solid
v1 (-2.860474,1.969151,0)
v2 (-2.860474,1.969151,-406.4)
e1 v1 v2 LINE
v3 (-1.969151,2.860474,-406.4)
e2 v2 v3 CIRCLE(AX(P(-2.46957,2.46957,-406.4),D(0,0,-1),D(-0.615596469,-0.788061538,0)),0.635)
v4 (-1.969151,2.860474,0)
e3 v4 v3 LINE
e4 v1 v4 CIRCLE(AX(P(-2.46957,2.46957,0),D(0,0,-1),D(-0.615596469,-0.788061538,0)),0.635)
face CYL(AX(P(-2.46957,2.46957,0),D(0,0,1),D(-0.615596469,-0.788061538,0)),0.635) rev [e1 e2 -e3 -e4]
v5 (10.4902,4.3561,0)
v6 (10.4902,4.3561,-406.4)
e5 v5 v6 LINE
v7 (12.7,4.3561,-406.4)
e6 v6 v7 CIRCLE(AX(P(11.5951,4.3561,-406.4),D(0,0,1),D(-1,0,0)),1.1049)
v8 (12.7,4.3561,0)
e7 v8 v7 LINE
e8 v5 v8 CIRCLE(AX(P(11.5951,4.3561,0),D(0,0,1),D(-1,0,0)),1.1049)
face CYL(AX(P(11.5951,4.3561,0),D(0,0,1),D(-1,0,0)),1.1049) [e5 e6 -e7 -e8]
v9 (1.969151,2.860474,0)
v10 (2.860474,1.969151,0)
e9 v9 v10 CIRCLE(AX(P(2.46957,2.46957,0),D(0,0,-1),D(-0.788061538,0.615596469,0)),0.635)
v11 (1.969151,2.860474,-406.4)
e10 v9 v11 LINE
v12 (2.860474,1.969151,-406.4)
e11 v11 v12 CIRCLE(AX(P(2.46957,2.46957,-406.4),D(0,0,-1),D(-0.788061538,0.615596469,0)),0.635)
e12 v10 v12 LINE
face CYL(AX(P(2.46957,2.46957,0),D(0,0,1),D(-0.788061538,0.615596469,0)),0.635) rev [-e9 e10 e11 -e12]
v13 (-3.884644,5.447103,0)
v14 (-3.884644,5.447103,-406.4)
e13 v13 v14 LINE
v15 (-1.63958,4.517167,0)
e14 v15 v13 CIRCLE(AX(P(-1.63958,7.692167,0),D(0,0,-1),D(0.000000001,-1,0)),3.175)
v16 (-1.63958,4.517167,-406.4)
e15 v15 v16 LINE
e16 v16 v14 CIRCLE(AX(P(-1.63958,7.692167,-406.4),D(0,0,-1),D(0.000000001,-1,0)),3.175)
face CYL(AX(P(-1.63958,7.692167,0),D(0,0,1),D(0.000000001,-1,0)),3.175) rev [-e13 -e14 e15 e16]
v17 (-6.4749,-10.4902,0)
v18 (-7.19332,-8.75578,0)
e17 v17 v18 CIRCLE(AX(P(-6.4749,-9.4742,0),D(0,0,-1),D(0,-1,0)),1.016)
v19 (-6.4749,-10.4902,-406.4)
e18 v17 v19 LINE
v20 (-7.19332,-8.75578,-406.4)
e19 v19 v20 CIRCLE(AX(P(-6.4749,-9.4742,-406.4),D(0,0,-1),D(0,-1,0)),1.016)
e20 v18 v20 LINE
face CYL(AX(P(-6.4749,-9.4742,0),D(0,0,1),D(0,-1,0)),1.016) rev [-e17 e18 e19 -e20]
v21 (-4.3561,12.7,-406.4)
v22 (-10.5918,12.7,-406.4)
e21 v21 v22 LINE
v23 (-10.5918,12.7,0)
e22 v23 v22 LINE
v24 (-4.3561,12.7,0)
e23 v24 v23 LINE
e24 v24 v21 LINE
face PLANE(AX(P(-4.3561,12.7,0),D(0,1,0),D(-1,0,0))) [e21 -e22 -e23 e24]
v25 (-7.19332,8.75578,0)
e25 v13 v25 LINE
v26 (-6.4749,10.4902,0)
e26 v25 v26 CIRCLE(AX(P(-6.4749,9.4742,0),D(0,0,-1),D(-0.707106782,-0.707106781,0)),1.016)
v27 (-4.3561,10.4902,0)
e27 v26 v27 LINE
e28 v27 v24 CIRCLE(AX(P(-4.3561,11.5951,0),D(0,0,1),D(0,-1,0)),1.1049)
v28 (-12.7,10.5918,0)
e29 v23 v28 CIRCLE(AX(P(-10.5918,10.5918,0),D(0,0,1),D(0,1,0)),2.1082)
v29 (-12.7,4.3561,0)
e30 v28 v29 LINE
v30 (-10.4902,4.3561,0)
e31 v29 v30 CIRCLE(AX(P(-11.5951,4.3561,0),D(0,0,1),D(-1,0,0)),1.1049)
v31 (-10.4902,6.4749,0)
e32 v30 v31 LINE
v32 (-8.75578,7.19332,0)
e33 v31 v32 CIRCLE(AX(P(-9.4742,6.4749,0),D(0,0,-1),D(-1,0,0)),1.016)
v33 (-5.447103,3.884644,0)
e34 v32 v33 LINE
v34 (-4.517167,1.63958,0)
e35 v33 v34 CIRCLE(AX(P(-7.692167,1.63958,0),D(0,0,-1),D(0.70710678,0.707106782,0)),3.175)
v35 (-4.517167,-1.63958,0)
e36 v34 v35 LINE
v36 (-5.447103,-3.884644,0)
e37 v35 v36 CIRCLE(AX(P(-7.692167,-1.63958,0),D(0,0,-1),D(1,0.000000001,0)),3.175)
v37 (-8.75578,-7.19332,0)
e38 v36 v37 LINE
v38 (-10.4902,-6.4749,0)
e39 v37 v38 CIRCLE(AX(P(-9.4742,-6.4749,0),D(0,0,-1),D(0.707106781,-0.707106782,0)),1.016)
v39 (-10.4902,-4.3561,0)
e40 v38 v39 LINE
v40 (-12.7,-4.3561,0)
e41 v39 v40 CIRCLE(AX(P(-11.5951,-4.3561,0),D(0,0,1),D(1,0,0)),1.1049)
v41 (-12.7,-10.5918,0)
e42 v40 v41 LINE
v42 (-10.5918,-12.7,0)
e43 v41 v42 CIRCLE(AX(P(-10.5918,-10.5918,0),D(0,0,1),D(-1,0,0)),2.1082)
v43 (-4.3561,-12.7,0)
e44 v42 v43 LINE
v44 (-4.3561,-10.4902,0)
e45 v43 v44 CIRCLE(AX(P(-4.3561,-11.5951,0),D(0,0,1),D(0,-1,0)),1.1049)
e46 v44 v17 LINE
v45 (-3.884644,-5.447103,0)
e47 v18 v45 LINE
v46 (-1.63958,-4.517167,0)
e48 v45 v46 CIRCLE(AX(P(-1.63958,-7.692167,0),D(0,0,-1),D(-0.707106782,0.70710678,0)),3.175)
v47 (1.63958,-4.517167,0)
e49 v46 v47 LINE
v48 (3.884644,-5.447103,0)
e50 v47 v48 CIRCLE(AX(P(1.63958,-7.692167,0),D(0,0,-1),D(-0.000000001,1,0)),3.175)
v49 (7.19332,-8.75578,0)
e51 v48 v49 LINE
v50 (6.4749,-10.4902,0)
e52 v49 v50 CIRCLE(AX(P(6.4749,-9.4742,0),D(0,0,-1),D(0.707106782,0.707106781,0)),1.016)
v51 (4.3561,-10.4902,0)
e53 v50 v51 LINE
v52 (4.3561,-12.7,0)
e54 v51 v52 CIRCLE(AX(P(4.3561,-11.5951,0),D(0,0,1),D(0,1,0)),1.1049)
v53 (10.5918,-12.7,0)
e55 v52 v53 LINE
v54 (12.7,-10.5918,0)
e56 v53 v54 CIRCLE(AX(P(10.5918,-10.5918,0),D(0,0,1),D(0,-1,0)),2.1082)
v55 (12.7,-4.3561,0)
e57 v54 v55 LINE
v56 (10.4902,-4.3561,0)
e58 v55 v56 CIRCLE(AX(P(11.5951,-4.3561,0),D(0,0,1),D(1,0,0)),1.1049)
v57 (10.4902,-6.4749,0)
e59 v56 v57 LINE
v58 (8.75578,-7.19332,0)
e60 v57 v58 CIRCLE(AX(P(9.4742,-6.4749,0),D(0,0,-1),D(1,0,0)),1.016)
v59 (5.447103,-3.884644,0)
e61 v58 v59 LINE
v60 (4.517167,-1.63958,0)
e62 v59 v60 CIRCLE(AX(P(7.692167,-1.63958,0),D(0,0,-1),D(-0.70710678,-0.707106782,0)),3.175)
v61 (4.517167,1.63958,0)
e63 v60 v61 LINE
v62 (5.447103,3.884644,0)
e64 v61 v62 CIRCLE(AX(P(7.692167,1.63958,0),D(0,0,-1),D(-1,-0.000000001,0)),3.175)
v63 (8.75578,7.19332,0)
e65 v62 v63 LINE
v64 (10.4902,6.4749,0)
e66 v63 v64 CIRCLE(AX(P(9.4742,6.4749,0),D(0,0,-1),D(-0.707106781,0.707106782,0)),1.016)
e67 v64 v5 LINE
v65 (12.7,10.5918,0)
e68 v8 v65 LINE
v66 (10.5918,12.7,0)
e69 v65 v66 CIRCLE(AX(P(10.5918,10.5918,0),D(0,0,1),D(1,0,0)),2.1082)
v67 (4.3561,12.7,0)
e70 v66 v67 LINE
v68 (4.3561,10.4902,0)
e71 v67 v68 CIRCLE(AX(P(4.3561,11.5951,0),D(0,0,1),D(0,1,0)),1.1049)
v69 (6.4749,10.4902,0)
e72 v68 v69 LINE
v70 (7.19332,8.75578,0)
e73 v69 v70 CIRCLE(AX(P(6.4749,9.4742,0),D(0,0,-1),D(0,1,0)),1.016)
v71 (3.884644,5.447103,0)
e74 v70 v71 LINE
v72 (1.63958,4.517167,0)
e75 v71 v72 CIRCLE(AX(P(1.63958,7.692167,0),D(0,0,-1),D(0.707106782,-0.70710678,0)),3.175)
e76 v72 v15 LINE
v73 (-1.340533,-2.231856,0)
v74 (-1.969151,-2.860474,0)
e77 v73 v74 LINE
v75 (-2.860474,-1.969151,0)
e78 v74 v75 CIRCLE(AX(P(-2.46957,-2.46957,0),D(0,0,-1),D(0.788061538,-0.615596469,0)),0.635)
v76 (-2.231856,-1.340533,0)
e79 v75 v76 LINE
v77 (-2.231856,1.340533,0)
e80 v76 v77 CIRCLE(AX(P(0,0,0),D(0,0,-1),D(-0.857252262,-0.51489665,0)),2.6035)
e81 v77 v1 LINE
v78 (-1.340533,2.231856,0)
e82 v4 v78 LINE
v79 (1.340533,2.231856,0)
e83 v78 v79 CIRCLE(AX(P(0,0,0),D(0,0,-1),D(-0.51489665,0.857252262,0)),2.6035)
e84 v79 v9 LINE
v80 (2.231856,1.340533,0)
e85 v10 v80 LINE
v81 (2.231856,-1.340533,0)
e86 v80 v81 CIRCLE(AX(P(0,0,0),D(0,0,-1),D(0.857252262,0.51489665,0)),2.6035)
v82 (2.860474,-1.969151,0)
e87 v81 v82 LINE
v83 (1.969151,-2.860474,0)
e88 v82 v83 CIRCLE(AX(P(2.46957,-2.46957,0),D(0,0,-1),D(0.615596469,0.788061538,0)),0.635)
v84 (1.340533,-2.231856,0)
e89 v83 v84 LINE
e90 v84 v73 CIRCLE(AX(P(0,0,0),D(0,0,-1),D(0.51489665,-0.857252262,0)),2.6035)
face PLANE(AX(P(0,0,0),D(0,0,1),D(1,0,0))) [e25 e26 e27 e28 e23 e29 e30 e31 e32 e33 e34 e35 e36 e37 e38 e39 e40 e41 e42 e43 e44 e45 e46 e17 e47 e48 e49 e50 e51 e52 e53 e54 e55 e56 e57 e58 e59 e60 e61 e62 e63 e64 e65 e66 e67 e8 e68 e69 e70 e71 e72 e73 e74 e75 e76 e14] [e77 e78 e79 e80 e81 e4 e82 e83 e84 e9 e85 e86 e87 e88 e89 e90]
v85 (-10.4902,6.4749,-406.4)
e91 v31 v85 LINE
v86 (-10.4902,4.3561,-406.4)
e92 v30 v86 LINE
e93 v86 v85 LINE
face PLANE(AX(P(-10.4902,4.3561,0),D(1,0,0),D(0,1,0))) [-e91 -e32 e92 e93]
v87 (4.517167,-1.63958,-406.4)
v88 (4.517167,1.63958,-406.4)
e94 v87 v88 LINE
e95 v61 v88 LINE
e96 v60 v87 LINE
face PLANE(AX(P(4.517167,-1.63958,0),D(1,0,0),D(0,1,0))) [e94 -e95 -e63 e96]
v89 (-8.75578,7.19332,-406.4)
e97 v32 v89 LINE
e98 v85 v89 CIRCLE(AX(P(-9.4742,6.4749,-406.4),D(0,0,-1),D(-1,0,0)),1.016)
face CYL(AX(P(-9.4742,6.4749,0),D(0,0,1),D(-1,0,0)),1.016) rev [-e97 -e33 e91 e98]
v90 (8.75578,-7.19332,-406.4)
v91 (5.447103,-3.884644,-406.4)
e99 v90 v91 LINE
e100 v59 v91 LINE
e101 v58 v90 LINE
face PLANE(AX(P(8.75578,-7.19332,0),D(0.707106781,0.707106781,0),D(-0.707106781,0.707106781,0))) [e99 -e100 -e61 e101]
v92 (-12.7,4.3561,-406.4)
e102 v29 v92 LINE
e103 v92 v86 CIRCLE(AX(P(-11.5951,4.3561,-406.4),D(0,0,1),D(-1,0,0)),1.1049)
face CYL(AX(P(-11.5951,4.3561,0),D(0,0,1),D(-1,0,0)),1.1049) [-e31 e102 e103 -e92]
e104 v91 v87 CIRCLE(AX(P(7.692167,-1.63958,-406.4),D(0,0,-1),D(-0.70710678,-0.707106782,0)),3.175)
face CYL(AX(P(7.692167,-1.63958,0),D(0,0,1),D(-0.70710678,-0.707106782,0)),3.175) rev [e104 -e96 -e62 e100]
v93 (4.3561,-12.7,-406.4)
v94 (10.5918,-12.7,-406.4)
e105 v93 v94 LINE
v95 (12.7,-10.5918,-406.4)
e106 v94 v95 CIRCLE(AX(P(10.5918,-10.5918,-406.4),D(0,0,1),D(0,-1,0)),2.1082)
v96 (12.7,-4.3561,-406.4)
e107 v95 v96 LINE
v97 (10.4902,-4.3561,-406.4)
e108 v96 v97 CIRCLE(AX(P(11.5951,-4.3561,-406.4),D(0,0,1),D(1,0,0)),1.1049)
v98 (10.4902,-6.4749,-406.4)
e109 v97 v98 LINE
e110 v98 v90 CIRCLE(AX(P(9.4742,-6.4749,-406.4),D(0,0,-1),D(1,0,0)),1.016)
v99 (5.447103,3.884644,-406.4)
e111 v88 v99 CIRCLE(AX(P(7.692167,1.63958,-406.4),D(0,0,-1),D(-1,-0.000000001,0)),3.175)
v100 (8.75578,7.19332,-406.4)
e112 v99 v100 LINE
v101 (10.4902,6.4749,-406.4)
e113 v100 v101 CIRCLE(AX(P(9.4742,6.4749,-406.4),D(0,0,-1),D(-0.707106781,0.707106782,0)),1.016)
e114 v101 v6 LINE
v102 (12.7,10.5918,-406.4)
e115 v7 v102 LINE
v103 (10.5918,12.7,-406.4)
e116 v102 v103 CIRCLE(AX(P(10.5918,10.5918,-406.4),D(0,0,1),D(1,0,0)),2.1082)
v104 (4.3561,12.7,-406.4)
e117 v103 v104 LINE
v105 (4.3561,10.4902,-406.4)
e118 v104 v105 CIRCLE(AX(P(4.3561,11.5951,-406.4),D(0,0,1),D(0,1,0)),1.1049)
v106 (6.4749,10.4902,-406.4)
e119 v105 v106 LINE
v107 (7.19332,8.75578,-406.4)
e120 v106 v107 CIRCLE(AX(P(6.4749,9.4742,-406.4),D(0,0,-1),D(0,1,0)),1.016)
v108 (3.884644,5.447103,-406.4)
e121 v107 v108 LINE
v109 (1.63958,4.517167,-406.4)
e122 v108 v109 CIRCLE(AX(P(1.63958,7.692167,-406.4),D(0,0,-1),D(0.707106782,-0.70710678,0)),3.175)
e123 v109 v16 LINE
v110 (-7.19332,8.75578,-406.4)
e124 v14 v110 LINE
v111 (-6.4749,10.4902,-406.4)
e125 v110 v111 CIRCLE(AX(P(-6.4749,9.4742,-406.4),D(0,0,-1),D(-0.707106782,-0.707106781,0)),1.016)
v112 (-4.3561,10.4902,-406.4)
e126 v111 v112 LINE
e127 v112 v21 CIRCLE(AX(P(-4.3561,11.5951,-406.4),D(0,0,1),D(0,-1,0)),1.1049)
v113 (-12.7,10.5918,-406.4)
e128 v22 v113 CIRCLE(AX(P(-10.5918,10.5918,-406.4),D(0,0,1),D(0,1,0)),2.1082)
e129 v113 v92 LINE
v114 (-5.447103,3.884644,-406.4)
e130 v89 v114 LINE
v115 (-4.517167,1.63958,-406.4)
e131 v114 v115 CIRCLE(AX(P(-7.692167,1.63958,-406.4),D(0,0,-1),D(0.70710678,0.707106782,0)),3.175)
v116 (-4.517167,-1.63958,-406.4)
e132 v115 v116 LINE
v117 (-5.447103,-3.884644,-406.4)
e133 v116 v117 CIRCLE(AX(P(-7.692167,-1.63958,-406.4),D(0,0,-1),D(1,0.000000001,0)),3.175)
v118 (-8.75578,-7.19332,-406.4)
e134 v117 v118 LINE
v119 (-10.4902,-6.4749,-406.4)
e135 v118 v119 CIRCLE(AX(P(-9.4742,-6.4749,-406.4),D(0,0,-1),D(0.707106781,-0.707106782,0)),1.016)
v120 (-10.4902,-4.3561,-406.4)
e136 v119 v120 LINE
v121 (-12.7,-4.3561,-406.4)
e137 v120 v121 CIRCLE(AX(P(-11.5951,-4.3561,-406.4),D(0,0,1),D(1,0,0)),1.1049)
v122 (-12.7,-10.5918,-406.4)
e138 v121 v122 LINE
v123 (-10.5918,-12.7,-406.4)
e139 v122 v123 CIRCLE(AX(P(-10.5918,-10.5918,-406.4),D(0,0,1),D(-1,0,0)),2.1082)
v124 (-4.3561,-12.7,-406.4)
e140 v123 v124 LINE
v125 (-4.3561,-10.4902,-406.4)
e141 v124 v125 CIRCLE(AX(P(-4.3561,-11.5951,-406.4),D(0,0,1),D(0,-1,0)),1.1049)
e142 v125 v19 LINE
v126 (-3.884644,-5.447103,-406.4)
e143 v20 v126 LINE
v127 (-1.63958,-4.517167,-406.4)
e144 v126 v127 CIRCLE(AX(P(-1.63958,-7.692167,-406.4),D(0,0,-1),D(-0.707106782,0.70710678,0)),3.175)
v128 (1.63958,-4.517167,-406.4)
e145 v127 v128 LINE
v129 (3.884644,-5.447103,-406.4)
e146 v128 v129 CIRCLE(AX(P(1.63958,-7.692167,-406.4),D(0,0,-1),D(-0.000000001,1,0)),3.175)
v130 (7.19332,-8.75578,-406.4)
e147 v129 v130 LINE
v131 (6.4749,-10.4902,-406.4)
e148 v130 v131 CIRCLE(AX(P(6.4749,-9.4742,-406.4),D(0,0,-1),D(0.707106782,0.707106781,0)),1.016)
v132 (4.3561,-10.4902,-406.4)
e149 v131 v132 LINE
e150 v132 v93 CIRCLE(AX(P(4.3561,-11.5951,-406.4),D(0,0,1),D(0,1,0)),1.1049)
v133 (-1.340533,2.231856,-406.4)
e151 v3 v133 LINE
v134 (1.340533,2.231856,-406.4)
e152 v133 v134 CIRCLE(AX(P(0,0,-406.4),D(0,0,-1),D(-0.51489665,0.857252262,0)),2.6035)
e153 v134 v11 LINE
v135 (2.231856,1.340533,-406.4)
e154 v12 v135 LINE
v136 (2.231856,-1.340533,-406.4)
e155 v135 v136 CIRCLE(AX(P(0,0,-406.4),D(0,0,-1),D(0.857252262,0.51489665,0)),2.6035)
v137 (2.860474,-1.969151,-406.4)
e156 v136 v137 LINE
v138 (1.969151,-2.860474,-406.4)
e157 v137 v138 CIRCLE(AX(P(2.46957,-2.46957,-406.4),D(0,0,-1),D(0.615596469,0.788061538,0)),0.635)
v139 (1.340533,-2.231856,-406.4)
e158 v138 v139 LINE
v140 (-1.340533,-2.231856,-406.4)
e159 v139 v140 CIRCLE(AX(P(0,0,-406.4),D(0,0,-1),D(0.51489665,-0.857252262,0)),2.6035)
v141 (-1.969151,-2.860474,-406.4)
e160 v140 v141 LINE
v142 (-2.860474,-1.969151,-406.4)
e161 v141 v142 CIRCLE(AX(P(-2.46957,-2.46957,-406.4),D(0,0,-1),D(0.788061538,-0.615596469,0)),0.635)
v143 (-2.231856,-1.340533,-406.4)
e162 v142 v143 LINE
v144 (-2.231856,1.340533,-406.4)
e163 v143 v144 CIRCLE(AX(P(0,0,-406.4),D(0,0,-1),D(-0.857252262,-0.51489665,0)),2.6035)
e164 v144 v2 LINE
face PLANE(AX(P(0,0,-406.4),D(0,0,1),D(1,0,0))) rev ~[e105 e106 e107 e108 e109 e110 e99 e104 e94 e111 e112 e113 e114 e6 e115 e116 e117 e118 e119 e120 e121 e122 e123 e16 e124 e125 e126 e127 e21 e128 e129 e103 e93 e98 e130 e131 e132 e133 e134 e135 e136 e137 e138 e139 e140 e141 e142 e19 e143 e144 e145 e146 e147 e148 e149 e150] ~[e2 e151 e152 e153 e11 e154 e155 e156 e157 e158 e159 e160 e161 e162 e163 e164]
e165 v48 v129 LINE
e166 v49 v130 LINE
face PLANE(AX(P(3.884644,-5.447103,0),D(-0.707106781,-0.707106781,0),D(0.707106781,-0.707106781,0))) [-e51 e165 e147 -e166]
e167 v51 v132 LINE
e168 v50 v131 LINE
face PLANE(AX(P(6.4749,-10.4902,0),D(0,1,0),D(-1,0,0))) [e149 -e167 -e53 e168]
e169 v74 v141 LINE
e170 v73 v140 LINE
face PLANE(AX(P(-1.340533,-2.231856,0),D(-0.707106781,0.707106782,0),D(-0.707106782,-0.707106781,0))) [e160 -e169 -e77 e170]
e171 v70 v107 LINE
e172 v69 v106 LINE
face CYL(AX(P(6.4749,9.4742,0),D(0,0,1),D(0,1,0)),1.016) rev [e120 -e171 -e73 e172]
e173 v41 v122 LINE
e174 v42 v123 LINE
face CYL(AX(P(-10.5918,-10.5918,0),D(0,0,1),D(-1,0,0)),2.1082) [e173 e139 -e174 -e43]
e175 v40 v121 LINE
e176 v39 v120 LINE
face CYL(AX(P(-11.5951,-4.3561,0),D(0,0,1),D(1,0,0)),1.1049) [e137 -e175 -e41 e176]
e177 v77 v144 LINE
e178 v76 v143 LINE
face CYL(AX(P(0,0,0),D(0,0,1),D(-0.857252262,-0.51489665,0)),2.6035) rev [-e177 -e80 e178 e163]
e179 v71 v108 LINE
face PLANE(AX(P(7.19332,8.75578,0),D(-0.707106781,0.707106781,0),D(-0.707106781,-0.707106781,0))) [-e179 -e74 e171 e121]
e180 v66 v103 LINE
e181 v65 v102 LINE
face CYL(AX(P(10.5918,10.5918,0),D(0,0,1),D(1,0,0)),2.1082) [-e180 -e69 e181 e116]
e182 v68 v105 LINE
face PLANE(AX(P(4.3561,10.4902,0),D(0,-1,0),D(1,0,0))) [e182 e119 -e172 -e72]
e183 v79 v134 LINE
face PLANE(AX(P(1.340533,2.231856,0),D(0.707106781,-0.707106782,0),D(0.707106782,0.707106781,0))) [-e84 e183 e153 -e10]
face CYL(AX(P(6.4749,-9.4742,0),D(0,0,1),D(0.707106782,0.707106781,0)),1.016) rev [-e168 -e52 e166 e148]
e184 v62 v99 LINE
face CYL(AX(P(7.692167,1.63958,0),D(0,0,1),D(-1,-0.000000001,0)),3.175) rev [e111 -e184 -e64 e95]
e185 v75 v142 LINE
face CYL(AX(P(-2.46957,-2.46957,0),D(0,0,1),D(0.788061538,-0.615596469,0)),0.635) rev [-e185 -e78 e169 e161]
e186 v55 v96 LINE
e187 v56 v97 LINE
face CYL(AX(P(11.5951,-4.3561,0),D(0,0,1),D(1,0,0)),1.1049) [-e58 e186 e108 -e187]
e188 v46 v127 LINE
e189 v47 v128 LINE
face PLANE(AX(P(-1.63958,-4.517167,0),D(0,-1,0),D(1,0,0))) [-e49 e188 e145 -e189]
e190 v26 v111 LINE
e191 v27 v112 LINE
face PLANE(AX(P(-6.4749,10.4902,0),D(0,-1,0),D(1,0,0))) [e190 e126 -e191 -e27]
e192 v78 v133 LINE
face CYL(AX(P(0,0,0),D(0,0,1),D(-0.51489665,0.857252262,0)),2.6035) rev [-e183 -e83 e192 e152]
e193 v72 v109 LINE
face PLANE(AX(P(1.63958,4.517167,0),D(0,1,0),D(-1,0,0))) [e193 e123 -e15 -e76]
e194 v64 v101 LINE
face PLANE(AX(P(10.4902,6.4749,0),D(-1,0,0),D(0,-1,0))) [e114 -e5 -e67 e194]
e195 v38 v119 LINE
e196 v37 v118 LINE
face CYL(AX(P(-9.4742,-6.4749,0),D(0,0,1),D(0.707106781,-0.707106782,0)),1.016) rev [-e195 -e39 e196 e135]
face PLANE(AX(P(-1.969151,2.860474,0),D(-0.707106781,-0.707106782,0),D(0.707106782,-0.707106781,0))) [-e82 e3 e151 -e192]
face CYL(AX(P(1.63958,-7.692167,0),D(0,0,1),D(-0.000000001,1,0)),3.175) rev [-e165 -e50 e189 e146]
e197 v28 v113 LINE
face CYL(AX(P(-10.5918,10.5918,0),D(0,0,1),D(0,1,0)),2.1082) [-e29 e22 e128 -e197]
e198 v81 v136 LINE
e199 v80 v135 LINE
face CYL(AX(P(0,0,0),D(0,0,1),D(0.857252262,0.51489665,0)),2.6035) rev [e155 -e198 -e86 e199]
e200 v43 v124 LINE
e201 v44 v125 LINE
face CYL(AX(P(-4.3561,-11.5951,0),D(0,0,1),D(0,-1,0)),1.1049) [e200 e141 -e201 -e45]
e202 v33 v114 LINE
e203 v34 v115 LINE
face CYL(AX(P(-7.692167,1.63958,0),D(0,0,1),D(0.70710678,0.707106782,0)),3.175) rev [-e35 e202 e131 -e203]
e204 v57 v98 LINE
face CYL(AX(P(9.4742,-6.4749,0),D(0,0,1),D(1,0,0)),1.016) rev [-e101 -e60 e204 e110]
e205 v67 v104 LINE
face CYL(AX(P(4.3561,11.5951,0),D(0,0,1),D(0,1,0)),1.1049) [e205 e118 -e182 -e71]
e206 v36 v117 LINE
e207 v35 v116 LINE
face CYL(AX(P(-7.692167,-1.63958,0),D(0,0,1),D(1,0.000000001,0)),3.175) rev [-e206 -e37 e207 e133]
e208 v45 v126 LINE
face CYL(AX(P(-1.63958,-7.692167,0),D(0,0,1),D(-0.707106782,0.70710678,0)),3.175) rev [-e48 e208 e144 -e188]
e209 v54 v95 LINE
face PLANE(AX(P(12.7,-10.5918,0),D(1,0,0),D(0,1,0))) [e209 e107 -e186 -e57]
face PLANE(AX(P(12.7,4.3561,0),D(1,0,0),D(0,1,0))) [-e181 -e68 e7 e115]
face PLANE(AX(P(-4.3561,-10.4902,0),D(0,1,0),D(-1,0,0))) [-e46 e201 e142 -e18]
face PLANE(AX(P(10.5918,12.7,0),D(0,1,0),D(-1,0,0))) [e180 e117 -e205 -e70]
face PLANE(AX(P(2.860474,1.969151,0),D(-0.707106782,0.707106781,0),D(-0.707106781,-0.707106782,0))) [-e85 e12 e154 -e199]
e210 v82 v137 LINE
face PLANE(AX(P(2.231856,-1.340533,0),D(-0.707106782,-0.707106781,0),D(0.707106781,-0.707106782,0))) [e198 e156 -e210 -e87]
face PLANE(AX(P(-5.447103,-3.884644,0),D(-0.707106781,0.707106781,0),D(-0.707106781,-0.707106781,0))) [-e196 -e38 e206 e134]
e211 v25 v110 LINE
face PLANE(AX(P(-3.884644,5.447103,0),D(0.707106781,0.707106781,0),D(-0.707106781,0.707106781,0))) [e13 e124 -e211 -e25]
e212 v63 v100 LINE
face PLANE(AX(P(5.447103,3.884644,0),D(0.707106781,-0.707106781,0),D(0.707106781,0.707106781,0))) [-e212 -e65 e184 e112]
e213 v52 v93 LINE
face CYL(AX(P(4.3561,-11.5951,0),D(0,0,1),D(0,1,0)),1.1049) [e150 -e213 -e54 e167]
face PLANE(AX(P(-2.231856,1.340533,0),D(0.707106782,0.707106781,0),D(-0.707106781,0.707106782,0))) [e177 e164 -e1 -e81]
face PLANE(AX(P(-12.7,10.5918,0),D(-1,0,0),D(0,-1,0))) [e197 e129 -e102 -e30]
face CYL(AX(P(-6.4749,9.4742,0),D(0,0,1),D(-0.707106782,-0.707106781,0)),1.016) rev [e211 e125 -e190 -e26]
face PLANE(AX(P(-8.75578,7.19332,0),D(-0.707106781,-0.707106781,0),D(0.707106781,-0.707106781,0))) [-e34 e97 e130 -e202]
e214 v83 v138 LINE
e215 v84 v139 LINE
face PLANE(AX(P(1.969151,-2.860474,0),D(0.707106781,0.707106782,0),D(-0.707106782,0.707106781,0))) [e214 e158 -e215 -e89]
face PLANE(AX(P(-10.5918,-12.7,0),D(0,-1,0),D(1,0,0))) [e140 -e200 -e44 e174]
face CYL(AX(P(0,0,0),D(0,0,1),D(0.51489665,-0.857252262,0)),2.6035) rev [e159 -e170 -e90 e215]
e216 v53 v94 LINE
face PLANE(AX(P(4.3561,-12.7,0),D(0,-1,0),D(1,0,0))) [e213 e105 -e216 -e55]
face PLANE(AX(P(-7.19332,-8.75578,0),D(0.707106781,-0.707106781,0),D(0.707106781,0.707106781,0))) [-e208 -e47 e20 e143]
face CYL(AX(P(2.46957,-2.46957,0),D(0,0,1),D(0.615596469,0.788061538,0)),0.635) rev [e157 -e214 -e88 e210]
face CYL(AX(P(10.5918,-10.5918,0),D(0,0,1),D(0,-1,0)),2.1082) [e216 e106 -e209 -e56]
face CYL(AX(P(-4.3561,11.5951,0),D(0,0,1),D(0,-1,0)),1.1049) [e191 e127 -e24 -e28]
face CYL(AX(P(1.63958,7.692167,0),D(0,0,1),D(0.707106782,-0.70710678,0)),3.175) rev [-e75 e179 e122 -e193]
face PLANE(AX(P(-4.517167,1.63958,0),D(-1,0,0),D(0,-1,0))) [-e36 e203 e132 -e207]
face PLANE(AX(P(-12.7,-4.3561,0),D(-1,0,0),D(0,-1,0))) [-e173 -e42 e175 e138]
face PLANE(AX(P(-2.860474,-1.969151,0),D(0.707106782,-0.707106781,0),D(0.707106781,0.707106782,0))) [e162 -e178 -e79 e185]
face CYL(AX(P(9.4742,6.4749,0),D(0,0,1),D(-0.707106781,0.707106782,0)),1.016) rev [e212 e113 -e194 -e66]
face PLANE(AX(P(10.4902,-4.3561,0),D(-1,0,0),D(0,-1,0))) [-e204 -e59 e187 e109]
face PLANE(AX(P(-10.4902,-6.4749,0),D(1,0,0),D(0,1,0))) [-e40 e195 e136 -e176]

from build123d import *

# Parameters (mm, degrees)
EXTRUDE1_DEPTH = 406.4


with BuildPart() as part:
    # Sketch1 → Extrude1 (new body)
    with BuildSketch(Plane.XY):
        with BuildLine():
            Line((-3.88464389, 5.447103113), (-7.193320288, 8.75577951))
            ThreePointArc((-7.193320288, 8.75577951), (-7.413561403, 9.863006367), (-6.474899798, 10.4902))
            Line((-6.474899798, 10.4902), (-4.3561, 10.4902))
            ThreePointArc((-4.3561, 10.4902), (-3.2512, 11.5951), (-4.3561, 12.7))
            Line((-4.3561, 12.7), (-10.5918, 12.7))
            ThreePointArc((-10.5918, 12.7), (-12.082522516, 12.082522516), (-12.7, 10.5918))
            Line((-12.7, 10.5918), (-12.7, 4.3561))
            ThreePointArc((-12.7, 4.3561), (-11.5951, 3.2512), (-10.4902, 4.3561))
            Line((-10.4902, 4.3561), (-10.4902, 6.474899798))
            ThreePointArc((-10.4902, 6.474899798), (-9.863006367, 7.413561403), (-8.75577951, 7.193320288))
            Line((-8.75577951, 7.193320288), (-5.447103113, 3.88464389))
            ThreePointArc((-5.447103113, 3.88464389), (-4.758849627, 2.854599758), (-4.517167143, 1.63957986))
            Line((-4.517167143, 1.63957986), (-4.517167143, -1.63957986))
            ThreePointArc((-4.517167143, -1.63957986), (-4.758849627, -2.854599758), (-5.447103113, -3.88464389))
            Line((-5.447103113, -3.88464389), (-8.75577951, -7.193320288))
            ThreePointArc((-8.75577951, -7.193320288), (-9.863006367, -7.413561403), (-10.4902, -6.474899798))
            Line((-10.4902, -6.474899798), (-10.4902, -4.3561))
            ThreePointArc((-10.4902, -4.3561), (-11.5951, -3.2512), (-12.7, -4.3561))
            Line((-12.7, -4.3561), (-12.7, -10.5918))
            ThreePointArc((-12.7, -10.5918), (-12.082522516, -12.082522516), (-10.5918, -12.7))
            Line((-10.5918, -12.7), (-4.3561, -12.7))
            ThreePointArc((-4.3561, -12.7), (-3.2512, -11.5951), (-4.3561, -10.4902))
            Line((-4.3561, -10.4902), (-6.474899798, -10.4902))
            ThreePointArc((-6.474899798, -10.4902), (-7.413561403, -9.863006367), (-7.193320288, -8.75577951))
            Line((-7.193320288, -8.75577951), (-3.88464389, -5.447103113))
            ThreePointArc((-3.88464389, -5.447103113), (-2.854599758, -4.758849627), (-1.63957986, -4.517167143))
            Line((-1.63957986, -4.517167143), (1.63957986, -4.517167143))
            ThreePointArc((1.63957986, -4.517167143), (2.854599758, -4.758849627), (3.88464389, -5.447103113))
            Line((3.88464389, -5.447103113), (7.193320288, -8.75577951))
            ThreePointArc((7.193320288, -8.75577951), (7.413561403, -9.863006367), (6.474899798, -10.4902))
            Line((6.474899798, -10.4902), (4.3561, -10.4902))
            ThreePointArc((4.3561, -10.4902), (3.2512, -11.5951), (4.3561, -12.7))
            Line((4.3561, -12.7), (10.5918, -12.7))
            ThreePointArc((10.5918, -12.7), (12.082522516, -12.082522516), (12.7, -10.5918))
            Line((12.7, -10.5918), (12.7, -4.3561))
            ThreePointArc((12.7, -4.3561), (11.5951, -3.2512), (10.4902, -4.3561))
            Line((10.4902, -4.3561), (10.4902, -6.474899798))
            ThreePointArc((10.4902, -6.474899798), (9.863006367, -7.413561403), (8.75577951, -7.193320288))
            Line((8.75577951, -7.193320288), (5.447103113, -3.88464389))
            ThreePointArc((5.447103113, -3.88464389), (4.758849627, -2.854599758), (4.517167143, -1.63957986))
            Line((4.517167143, -1.63957986), (4.517167143, 1.63957986))
            ThreePointArc((4.517167143, 1.63957986), (4.758849627, 2.854599758), (5.447103113, 3.88464389))
            Line((5.447103113, 3.88464389), (8.75577951, 7.193320288))
            ThreePointArc((8.75577951, 7.193320288), (9.863006367, 7.413561403), (10.4902, 6.474899798))
            Line((10.4902, 6.474899798), (10.4902, 4.3561))
            ThreePointArc((10.4902, 4.3561), (11.5951, 3.2512), (12.7, 4.3561))
            Line((12.7, 4.3561), (12.7, 10.5918))
            ThreePointArc((12.7, 10.5918), (12.082522516, 12.082522516), (10.5918, 12.7))
            Line((10.5918, 12.7), (4.3561, 12.7))
            ThreePointArc((4.3561, 12.7), (3.2512, 11.5951), (4.3561, 10.4902))
            Line((4.3561, 10.4902), (6.474899798, 10.4902))
            ThreePointArc((6.474899798, 10.4902), (7.413561403, 9.863006367), (7.193320288, 8.75577951))
            Line((7.193320288, 8.75577951), (3.88464389, 5.447103113))
            ThreePointArc((3.88464389, 5.447103113), (2.854599758, 4.758849627), (1.63957986, 4.517167143))
            Line((1.63957986, 4.517167143), (-1.63957986, 4.517167143))
            ThreePointArc((-1.63957986, 4.517167143), (-2.854599758, 4.758849627), (-3.88464389, 5.447103113))
        make_face()
        with BuildLine():
            Line((-2.860474191, -1.969151357), (-2.231856263, -1.340533428))
            ThreePointArc((-2.231856263, -1.340533428), (-2.6035, 0), (-2.231856263, 1.340533428))
            Line((-2.231856263, 1.340533428), (-2.860474191, 1.969151357))
            ThreePointArc((-2.860474191, 1.969151357), (-2.918583239, 2.918583239), (-1.969151357, 2.860474191))
            Line((-1.969151357, 2.860474191), (-1.340533428, 2.231856263))
            ThreePointArc((-1.340533428, 2.231856263), (0, 2.6035), (1.340533428, 2.231856263))
            Line((1.340533428, 2.231856263), (1.969151357, 2.860474191))
            ThreePointArc((1.969151357, 2.860474191), (2.918583239, 2.918583239), (2.860474191, 1.969151357))
            Line((2.860474191, 1.969151357), (2.231856263, 1.340533428))
            ThreePointArc((2.231856263, 1.340533428), (2.6035, 0), (2.231856263, -1.340533428))
            Line((2.231856263, -1.340533428), (2.860474191, -1.969151357))
            ThreePointArc((2.860474191, -1.969151357), (2.918583239, -2.918583239), (1.969151357, -2.860474191))
            Line((1.969151357, -2.860474191), (1.340533428, -2.231856263))
            ThreePointArc((1.340533428, -2.231856263), (0, -2.6035), (-1.340533428, -2.231856263))
            Line((-1.340533428, -2.231856263), (-1.969151357, -2.860474191))
            ThreePointArc((-1.969151357, -2.860474191), (-2.918583239, -2.918583239), (-2.860474191, -1.969151357))
        make_face(mode=Mode.SUBTRACT)
    extrude(amount=-EXTRUDE1_DEPTH)


solid = part.part
